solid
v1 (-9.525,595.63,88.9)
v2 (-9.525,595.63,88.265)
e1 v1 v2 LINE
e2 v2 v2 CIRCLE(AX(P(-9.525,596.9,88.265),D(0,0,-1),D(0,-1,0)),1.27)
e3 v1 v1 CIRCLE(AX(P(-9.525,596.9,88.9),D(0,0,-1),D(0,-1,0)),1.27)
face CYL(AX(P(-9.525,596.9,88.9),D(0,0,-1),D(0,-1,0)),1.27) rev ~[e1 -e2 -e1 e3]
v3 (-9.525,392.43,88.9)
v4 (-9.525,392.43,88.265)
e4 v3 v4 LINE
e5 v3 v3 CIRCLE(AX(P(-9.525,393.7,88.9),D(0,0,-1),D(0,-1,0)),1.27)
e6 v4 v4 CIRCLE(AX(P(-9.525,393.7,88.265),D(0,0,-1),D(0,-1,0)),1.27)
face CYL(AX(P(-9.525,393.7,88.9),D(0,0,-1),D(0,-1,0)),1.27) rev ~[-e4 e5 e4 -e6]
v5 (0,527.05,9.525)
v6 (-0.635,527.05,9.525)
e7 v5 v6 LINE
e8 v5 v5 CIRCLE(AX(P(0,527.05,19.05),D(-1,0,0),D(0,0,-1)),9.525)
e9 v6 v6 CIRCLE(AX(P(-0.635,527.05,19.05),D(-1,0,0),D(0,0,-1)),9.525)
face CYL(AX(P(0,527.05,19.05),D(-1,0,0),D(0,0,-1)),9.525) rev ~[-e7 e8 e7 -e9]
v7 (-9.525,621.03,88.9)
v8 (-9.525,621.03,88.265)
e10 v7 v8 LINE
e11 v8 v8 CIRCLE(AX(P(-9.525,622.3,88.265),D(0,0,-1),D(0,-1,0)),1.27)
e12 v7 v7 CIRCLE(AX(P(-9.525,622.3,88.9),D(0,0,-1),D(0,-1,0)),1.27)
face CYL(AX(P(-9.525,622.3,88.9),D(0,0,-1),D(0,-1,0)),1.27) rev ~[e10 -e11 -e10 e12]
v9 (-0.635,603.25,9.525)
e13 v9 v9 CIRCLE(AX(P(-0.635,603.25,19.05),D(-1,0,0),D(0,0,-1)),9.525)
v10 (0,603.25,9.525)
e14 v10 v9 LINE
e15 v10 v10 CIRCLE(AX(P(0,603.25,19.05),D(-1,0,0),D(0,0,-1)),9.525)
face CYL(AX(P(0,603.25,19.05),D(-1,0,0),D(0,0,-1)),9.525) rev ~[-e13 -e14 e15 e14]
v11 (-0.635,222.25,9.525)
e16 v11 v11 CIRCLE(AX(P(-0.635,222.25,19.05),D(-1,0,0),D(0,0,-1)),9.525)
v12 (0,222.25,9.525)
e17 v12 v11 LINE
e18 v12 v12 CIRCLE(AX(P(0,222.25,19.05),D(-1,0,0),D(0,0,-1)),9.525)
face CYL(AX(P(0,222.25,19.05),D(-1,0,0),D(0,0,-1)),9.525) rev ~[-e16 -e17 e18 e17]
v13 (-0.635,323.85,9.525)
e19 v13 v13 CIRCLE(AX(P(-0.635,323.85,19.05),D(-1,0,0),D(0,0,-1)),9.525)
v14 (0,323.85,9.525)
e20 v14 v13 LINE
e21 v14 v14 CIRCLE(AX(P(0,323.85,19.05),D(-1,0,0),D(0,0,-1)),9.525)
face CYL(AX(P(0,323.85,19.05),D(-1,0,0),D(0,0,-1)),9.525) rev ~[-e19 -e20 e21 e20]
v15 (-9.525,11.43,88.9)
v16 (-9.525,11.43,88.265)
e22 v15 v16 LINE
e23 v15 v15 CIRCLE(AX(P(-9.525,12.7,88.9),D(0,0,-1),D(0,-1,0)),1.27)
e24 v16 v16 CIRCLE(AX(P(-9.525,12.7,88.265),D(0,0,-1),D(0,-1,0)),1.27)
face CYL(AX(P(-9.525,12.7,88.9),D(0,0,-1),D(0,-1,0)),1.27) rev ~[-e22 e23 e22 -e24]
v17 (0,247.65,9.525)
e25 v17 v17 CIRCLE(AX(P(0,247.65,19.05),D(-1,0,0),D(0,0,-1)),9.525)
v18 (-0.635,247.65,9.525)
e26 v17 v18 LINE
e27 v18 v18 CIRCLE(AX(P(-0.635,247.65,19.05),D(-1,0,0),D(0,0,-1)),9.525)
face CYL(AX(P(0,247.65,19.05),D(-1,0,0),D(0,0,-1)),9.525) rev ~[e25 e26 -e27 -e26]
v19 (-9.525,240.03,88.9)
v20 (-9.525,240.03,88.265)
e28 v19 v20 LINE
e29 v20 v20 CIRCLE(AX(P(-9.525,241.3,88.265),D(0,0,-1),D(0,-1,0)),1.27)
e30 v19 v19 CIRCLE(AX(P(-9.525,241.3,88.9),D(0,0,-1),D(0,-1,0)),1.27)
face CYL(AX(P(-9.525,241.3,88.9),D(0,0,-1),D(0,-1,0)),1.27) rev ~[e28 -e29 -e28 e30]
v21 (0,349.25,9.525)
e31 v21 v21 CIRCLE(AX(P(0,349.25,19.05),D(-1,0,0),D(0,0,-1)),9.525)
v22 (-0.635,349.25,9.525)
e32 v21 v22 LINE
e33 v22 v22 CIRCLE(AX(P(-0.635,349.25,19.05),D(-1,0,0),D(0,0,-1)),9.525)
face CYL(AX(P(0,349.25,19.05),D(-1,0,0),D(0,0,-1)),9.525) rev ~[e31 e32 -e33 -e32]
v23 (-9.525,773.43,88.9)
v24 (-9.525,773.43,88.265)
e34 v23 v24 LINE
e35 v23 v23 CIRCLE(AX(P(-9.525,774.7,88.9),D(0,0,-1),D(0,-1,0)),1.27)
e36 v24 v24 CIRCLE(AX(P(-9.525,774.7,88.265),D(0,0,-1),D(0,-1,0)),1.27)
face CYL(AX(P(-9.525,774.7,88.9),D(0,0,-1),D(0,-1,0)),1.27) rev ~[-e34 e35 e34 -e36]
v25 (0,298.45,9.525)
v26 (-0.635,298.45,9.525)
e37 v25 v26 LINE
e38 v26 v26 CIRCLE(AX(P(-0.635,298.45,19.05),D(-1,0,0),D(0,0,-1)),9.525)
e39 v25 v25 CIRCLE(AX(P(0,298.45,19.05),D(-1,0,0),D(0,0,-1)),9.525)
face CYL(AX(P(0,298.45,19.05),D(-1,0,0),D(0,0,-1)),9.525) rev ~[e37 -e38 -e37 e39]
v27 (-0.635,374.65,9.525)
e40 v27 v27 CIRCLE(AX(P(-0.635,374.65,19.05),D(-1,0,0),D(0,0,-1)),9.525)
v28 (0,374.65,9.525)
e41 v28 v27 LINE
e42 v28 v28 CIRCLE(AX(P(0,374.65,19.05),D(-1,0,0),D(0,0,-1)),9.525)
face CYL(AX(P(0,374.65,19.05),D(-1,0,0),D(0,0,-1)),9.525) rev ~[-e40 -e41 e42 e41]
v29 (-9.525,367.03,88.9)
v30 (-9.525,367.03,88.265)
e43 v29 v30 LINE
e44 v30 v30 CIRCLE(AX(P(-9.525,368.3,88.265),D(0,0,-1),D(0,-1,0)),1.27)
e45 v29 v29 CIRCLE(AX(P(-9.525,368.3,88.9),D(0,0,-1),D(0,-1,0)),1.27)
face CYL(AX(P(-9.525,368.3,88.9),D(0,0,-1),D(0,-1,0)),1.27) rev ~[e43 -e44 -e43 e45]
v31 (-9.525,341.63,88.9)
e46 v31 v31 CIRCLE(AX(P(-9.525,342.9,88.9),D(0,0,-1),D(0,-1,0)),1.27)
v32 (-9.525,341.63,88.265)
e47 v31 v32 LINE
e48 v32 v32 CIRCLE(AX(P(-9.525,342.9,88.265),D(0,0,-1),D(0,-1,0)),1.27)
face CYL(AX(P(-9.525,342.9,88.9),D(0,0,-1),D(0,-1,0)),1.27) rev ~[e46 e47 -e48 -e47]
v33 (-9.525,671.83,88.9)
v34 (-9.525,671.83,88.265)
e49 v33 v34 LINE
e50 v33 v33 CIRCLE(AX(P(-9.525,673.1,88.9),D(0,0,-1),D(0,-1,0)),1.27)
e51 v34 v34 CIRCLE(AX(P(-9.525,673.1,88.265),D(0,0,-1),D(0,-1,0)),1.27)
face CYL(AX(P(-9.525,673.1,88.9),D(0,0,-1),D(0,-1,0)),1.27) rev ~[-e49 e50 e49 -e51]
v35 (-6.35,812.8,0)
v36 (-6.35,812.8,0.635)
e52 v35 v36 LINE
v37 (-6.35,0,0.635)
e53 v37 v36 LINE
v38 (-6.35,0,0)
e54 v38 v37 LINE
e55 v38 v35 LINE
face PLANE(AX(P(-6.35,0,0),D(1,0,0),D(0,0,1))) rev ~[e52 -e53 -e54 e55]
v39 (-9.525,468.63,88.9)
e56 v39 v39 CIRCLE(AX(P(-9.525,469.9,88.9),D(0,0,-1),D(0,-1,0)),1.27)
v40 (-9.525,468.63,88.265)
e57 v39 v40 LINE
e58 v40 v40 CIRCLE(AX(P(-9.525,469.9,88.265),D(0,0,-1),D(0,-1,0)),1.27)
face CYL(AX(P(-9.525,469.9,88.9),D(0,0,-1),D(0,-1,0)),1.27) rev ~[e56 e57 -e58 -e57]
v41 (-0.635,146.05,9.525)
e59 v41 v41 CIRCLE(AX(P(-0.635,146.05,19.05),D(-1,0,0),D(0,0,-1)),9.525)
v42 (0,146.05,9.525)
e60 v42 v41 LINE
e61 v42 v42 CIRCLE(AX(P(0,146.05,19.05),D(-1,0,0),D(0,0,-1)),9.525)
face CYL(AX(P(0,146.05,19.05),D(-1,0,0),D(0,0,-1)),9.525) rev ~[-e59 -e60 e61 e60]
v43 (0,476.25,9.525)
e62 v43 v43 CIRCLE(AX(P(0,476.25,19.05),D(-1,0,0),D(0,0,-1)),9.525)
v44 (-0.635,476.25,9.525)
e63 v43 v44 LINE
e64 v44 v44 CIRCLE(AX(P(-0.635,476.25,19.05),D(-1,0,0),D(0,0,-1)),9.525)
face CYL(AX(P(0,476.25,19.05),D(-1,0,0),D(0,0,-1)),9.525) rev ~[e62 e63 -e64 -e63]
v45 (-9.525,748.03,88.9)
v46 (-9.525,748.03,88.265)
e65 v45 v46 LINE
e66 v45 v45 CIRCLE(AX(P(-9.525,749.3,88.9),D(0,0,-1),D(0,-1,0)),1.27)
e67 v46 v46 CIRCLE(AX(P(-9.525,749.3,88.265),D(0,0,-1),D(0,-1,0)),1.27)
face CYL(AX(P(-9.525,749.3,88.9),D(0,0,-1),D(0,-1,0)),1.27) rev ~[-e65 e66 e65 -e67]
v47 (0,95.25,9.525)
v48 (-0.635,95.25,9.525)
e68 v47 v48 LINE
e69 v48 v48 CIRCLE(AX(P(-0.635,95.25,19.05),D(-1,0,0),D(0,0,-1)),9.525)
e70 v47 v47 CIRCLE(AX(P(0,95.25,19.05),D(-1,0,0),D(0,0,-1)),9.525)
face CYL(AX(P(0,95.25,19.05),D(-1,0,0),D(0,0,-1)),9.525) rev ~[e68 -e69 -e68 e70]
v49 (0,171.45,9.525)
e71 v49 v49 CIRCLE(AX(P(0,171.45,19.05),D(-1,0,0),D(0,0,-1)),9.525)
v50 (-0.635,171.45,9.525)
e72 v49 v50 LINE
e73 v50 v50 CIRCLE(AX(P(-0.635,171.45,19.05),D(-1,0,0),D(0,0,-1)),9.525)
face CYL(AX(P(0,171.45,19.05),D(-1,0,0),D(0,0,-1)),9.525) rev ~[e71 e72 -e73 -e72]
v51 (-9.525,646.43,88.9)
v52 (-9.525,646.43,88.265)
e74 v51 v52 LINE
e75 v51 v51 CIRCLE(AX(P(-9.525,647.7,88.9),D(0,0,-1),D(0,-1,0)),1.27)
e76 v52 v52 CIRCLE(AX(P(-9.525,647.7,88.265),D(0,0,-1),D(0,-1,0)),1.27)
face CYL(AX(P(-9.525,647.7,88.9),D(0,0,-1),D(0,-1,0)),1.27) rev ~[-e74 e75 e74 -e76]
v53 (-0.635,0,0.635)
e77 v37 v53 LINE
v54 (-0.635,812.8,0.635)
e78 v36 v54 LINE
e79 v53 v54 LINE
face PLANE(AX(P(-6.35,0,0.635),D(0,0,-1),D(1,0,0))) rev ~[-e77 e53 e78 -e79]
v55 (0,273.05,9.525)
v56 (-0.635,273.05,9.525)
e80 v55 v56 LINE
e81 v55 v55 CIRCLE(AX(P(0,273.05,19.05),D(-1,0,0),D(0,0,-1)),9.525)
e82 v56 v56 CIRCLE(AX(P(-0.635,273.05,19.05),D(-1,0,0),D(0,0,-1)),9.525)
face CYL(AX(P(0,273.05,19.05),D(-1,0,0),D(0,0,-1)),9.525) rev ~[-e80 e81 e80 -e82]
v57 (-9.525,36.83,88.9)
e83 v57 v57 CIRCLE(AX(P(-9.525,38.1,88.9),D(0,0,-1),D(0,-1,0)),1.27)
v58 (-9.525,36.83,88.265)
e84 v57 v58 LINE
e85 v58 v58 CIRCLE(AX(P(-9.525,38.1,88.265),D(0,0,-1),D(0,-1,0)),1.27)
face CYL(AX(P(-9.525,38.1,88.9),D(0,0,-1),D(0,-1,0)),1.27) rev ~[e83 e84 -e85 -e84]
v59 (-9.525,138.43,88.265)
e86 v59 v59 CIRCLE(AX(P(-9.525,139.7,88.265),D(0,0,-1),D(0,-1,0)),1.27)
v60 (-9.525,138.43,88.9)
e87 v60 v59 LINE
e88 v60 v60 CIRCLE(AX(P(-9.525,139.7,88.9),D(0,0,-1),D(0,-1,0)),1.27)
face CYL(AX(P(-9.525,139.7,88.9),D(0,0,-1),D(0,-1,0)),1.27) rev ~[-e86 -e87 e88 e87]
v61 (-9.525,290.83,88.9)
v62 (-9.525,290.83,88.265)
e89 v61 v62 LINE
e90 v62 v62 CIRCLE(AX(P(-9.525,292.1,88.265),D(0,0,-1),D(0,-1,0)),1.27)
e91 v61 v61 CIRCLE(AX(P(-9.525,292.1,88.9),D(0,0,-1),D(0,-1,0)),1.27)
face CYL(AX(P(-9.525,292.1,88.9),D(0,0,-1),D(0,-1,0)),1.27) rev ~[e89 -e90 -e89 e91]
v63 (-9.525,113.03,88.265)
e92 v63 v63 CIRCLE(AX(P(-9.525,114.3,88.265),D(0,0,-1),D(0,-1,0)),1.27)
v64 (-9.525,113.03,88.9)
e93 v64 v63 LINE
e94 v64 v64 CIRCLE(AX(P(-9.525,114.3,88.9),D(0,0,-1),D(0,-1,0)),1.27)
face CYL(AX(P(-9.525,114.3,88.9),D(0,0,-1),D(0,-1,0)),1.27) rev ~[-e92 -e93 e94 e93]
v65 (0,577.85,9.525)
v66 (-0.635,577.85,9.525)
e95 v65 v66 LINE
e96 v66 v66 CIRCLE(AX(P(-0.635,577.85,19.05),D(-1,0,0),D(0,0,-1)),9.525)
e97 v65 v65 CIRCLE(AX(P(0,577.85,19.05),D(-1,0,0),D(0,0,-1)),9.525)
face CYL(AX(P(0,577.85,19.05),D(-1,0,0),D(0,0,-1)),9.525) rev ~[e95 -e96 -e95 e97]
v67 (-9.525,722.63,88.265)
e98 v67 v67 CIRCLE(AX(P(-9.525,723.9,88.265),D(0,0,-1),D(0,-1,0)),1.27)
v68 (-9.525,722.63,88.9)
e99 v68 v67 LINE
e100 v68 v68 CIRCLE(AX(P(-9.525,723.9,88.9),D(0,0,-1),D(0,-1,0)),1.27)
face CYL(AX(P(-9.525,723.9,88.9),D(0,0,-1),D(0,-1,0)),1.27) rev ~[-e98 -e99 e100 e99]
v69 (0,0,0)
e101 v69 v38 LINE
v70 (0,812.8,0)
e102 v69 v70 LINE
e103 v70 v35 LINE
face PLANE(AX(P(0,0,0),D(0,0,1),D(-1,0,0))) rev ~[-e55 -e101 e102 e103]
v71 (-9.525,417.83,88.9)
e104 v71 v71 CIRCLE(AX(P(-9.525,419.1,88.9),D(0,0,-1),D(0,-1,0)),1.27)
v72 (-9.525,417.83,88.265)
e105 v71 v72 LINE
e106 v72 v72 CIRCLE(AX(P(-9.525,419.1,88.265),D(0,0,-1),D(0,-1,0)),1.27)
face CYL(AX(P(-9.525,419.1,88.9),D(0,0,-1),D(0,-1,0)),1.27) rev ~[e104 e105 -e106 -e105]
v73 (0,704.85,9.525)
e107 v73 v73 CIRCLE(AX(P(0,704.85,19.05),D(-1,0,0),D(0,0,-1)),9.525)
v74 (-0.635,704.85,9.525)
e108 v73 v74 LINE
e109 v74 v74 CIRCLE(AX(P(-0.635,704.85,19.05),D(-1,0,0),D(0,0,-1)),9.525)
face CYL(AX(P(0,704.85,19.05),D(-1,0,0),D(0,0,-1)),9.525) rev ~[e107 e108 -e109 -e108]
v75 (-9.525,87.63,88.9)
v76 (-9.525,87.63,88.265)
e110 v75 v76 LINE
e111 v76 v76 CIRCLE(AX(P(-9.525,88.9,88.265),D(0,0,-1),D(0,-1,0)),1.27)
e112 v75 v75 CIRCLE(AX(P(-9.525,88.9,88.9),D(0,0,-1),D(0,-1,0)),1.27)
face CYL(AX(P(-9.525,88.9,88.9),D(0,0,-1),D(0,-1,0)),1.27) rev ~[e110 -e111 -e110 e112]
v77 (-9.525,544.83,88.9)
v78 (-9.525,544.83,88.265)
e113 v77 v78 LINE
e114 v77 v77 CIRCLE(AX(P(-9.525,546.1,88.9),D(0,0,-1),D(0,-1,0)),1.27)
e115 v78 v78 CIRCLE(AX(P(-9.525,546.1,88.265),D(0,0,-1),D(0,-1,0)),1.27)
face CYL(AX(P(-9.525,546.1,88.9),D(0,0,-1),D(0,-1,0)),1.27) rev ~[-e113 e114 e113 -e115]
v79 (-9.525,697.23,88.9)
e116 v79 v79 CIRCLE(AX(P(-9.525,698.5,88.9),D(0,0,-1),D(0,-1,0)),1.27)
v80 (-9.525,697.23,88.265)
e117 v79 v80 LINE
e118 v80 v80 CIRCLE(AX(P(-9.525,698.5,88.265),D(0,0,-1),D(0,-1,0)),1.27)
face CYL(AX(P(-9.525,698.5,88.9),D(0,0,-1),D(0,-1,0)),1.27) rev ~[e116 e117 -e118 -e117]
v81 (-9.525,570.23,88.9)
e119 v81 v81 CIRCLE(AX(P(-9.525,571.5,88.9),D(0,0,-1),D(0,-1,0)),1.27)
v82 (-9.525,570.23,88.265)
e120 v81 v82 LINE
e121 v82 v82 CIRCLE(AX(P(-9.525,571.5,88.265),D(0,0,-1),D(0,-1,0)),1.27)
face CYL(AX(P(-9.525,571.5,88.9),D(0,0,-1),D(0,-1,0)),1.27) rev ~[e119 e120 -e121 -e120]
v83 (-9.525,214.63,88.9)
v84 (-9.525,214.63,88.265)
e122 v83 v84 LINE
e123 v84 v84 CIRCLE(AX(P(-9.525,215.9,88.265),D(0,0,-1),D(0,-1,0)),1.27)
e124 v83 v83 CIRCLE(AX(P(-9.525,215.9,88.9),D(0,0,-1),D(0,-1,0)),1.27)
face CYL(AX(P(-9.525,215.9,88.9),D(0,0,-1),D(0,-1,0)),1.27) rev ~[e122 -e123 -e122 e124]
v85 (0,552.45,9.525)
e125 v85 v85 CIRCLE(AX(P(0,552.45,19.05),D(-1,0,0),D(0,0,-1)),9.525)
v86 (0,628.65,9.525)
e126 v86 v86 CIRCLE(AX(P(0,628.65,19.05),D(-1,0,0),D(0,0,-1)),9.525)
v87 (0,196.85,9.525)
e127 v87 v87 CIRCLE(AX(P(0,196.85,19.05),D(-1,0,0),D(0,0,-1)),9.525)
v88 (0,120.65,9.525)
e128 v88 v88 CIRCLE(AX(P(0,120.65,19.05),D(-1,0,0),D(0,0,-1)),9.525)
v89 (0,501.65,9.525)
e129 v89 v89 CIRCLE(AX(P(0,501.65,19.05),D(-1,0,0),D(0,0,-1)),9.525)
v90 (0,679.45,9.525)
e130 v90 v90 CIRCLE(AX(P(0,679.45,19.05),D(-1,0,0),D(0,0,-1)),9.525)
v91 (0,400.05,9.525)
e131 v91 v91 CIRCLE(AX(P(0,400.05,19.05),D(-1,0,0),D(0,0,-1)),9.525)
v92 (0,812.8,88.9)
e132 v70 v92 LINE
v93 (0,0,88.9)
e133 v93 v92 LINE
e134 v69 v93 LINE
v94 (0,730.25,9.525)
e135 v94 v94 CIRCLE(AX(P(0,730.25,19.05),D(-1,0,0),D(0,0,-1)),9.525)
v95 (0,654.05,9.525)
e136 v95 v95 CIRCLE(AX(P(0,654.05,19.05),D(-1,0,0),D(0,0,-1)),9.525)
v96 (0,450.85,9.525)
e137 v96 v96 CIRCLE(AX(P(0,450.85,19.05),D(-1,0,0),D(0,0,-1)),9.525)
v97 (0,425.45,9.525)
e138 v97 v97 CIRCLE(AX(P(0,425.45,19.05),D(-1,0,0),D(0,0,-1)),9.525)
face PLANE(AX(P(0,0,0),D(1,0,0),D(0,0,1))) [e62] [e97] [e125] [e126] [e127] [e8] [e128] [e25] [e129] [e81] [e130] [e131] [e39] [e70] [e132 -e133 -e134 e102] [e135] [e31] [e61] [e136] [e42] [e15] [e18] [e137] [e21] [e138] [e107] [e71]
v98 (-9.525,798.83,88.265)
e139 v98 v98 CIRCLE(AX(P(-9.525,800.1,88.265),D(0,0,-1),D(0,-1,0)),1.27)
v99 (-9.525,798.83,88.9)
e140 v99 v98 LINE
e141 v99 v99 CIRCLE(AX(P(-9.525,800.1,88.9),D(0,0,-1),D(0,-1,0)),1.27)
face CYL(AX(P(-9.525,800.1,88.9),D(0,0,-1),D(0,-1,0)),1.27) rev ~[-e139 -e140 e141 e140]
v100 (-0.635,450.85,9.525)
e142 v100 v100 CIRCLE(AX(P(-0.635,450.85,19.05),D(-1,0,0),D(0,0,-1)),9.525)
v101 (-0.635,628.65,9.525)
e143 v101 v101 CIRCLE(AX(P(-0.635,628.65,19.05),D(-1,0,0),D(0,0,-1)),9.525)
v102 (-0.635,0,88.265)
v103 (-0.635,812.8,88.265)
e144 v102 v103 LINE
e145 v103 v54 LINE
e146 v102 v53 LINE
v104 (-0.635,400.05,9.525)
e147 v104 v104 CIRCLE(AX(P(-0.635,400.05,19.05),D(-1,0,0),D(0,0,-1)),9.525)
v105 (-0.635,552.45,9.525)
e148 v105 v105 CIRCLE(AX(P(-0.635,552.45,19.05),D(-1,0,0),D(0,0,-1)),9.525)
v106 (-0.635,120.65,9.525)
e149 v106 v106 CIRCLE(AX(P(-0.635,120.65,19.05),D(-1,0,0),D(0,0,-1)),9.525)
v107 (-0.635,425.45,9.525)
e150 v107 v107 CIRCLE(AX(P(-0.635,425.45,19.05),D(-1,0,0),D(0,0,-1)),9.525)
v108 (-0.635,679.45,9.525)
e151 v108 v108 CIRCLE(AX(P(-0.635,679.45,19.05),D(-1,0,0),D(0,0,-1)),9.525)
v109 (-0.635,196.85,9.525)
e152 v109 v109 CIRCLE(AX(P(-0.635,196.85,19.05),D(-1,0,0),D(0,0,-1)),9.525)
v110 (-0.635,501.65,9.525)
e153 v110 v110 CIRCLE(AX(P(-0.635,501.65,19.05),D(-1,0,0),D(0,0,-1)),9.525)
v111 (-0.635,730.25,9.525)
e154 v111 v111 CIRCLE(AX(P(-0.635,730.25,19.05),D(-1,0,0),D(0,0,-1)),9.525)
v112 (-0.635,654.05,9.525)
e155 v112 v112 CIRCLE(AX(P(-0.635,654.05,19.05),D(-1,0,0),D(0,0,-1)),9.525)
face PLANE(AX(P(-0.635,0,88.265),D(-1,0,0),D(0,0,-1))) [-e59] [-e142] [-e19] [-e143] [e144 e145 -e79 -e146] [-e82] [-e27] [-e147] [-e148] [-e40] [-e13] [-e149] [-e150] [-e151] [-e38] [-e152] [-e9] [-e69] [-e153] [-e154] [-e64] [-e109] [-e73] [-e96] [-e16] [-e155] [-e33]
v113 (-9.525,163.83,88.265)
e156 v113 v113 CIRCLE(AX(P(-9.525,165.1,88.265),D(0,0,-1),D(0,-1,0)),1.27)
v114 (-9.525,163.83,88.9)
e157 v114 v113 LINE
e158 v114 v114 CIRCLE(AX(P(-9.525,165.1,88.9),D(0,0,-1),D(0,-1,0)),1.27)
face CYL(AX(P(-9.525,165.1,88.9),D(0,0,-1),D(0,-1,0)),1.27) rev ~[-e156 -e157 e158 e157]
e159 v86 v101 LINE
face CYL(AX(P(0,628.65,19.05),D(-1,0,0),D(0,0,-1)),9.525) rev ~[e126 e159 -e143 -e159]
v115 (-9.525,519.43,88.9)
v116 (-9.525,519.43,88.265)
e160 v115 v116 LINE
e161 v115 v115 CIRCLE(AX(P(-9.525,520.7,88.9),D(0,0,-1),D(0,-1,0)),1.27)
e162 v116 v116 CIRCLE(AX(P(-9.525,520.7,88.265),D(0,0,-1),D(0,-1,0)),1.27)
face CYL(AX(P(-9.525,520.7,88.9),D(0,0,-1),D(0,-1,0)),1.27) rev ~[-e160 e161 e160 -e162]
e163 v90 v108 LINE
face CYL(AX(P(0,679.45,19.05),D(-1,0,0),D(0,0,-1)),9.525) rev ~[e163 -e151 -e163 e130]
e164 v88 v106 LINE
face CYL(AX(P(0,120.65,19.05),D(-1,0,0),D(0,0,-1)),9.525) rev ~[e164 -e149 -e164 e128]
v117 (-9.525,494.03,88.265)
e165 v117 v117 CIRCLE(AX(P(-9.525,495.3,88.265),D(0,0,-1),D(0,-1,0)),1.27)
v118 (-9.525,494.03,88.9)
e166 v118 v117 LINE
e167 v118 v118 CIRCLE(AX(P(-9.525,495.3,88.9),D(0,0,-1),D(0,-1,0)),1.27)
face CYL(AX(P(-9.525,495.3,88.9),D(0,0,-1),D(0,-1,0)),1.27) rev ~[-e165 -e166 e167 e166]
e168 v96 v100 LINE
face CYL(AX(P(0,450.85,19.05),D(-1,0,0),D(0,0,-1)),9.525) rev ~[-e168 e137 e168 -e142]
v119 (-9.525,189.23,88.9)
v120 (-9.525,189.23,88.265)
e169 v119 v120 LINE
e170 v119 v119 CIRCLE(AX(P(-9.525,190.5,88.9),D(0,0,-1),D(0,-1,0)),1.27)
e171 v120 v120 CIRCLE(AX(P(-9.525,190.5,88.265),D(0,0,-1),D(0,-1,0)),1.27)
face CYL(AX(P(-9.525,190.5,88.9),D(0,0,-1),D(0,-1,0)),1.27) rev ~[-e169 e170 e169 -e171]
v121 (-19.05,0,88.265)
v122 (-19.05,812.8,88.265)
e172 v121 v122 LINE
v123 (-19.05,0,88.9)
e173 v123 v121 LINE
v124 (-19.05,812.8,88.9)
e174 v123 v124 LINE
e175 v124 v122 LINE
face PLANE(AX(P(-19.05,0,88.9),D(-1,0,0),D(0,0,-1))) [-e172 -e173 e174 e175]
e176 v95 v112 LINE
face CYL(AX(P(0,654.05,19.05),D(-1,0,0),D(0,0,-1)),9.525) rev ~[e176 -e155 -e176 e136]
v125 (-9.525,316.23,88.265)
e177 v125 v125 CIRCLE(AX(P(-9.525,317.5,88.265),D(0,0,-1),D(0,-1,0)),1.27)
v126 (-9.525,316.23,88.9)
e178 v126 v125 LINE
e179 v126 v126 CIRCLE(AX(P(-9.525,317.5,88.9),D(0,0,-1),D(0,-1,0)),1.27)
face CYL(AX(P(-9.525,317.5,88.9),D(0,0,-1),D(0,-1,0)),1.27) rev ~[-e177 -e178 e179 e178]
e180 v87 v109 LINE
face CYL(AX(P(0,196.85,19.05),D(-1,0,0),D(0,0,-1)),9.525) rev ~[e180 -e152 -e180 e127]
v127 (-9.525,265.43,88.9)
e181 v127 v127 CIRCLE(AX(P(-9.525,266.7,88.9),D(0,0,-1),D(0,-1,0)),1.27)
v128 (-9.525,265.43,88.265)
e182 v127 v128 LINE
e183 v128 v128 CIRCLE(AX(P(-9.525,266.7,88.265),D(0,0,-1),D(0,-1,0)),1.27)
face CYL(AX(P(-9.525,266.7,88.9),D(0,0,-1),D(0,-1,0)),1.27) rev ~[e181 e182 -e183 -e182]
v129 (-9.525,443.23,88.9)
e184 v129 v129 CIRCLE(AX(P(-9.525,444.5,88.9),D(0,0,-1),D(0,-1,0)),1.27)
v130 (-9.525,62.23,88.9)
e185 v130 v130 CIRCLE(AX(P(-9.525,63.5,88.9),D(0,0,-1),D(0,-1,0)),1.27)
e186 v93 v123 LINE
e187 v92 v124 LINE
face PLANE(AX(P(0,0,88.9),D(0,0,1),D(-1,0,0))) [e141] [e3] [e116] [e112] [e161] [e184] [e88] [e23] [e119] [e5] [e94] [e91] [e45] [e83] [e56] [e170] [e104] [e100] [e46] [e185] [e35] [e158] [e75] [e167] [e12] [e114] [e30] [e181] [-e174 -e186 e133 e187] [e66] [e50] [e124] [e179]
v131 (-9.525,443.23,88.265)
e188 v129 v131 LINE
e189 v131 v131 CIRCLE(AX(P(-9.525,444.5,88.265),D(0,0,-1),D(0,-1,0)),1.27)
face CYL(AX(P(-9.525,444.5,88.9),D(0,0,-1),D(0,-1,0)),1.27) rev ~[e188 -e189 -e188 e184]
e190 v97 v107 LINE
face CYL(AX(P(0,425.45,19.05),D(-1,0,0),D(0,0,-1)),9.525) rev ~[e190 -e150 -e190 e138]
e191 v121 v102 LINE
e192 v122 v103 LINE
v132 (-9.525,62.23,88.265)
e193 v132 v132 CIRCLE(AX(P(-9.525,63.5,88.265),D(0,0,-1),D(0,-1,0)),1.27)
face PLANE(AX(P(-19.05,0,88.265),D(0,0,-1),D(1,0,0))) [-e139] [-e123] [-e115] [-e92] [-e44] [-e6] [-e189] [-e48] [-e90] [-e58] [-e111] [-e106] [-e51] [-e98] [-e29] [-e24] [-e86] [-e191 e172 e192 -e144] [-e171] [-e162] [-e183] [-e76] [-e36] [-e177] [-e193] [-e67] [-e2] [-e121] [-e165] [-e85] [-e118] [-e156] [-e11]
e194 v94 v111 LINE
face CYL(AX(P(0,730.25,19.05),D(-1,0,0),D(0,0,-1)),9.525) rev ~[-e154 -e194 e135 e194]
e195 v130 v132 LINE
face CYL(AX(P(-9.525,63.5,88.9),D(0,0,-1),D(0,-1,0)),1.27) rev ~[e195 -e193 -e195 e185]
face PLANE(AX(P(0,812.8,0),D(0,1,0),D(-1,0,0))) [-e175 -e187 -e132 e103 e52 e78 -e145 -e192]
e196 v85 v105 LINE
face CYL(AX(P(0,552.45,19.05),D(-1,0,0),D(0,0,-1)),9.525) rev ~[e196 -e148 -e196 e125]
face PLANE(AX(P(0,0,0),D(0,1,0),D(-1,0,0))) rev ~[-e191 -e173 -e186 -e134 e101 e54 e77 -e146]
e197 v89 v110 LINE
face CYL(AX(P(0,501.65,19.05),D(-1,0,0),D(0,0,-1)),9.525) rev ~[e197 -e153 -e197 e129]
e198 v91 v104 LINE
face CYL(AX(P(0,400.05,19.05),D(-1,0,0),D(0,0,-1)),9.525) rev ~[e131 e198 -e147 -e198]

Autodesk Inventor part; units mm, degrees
ref_plane "YZ Plane" through (0, 0, 0) normal (1, 0, 0) x (0, 1, 0)
ref_plane "XZ Plane" through (0, 0, 0) normal (0, 1, 0) x (-1, 0, 0)
ref_plane "XY Plane" through (0, 0, 0) normal (0, 0, 1) x (1, 0, 0)
sketch "Sketch1" plane through (0, 0, 0) normal (0, 1, 0) x (-1, 0, 0)
  line L0 (0, 0) -> (0, 88.9)
  line L1 (0, 88.9) -> (19.05, 88.9)
  line L2 (19.05, 88.9) -> (19.05, 88.265)
  line L3 (19.05, 88.265) -> (0.635, 88.265)
  line L4 (0.635, 88.265) -> (0.635, 0.635)
  line L5 (0, 0) -> (6.35, 0)
  line L6 (6.35, 0) -> (6.35, 0.635)
  line L7 (6.35, 0.635) -> (0.635, 0.635)
  dimension "d0" = 88.9
  dimension "d1" = 19.05
  dimension "d2" = 0.635
  dimension "d4" = 0.635
  dimension "d7" = 6.35
extrude "Extrusion1" add sketch "Sketch1" along normal blind 812.8
sketch "Sketch2" plane through (-19.05, 0, 88.9) normal (0, 0, 1) x (1, 0, 0)
  line L0 (19.05, 0) -> (0, 0) projected
  line L1 (19.05, 0) -> (19.05, 812.8) projected
  line L2 (9.525, 0) -> (9.525, 12.7)
  line L3 (0, 0) -> (0, 812.8) projected
  line L4 (9.525, 12.7) -> (9.525, 27.5524) construction
  dimension "d8" = 12.7
hole "Hole1" at (-9.525, 12.7, 88.9) direction (0, 0, -1) diameter 2.54 end through all
pattern_linear "Rectangular Pattern1" count 32 spacing 25.4 along (0, 1, 0) of "Hole1"
sketch "Sketch3" plane through (0, 0, 88.9) normal (1, 0, 0) x (0, 0, -1)
  line L0 (88.9, 0) -> (0, 0) projected
  line L1 (88.9, 0) -> (88.9, 812.8) projected
  line L2 (0, 0) -> (0, 812.8) projected
  line L3 (69.85, 0) -> (69.85, 95.25)
  line L4 (69.85, 95.25) -> (69.85, 151.65) construction
  dimension "d19" = 19.05
  dimension "d20" = 95.25
hole "Hole2" at (0, 95.25, 19.05) direction (-1, 0, 0) diameter 19.05 end through all
pattern_linear "Rectangular Pattern2" count 26 spacing 25.4 along (0, 1, 0) of "Hole2"
equation "\"d14\" = Thickness"
equation "\"d26\" = Thickness"
equation "\"BendRadius\" = Thickness"
equation "\"BendReliefWidth\" = Thickness"
equation "\"BendReliefDepth\" = 0.5 * Thickness"
equation "\"CornerReliefSize\" = 4 * Thickness"
equation "\"MinimumRemnant\" = 2 * Thickness"
equation "\"TransitionRadius\" = BendRadius"
equation "\"JacobiRadiusSize\" = BendRadius"
equation "\"GapSize\" = Thickness"
equation "\"Thickness\" = 3.048"
properties part number "2014 Sidings"
